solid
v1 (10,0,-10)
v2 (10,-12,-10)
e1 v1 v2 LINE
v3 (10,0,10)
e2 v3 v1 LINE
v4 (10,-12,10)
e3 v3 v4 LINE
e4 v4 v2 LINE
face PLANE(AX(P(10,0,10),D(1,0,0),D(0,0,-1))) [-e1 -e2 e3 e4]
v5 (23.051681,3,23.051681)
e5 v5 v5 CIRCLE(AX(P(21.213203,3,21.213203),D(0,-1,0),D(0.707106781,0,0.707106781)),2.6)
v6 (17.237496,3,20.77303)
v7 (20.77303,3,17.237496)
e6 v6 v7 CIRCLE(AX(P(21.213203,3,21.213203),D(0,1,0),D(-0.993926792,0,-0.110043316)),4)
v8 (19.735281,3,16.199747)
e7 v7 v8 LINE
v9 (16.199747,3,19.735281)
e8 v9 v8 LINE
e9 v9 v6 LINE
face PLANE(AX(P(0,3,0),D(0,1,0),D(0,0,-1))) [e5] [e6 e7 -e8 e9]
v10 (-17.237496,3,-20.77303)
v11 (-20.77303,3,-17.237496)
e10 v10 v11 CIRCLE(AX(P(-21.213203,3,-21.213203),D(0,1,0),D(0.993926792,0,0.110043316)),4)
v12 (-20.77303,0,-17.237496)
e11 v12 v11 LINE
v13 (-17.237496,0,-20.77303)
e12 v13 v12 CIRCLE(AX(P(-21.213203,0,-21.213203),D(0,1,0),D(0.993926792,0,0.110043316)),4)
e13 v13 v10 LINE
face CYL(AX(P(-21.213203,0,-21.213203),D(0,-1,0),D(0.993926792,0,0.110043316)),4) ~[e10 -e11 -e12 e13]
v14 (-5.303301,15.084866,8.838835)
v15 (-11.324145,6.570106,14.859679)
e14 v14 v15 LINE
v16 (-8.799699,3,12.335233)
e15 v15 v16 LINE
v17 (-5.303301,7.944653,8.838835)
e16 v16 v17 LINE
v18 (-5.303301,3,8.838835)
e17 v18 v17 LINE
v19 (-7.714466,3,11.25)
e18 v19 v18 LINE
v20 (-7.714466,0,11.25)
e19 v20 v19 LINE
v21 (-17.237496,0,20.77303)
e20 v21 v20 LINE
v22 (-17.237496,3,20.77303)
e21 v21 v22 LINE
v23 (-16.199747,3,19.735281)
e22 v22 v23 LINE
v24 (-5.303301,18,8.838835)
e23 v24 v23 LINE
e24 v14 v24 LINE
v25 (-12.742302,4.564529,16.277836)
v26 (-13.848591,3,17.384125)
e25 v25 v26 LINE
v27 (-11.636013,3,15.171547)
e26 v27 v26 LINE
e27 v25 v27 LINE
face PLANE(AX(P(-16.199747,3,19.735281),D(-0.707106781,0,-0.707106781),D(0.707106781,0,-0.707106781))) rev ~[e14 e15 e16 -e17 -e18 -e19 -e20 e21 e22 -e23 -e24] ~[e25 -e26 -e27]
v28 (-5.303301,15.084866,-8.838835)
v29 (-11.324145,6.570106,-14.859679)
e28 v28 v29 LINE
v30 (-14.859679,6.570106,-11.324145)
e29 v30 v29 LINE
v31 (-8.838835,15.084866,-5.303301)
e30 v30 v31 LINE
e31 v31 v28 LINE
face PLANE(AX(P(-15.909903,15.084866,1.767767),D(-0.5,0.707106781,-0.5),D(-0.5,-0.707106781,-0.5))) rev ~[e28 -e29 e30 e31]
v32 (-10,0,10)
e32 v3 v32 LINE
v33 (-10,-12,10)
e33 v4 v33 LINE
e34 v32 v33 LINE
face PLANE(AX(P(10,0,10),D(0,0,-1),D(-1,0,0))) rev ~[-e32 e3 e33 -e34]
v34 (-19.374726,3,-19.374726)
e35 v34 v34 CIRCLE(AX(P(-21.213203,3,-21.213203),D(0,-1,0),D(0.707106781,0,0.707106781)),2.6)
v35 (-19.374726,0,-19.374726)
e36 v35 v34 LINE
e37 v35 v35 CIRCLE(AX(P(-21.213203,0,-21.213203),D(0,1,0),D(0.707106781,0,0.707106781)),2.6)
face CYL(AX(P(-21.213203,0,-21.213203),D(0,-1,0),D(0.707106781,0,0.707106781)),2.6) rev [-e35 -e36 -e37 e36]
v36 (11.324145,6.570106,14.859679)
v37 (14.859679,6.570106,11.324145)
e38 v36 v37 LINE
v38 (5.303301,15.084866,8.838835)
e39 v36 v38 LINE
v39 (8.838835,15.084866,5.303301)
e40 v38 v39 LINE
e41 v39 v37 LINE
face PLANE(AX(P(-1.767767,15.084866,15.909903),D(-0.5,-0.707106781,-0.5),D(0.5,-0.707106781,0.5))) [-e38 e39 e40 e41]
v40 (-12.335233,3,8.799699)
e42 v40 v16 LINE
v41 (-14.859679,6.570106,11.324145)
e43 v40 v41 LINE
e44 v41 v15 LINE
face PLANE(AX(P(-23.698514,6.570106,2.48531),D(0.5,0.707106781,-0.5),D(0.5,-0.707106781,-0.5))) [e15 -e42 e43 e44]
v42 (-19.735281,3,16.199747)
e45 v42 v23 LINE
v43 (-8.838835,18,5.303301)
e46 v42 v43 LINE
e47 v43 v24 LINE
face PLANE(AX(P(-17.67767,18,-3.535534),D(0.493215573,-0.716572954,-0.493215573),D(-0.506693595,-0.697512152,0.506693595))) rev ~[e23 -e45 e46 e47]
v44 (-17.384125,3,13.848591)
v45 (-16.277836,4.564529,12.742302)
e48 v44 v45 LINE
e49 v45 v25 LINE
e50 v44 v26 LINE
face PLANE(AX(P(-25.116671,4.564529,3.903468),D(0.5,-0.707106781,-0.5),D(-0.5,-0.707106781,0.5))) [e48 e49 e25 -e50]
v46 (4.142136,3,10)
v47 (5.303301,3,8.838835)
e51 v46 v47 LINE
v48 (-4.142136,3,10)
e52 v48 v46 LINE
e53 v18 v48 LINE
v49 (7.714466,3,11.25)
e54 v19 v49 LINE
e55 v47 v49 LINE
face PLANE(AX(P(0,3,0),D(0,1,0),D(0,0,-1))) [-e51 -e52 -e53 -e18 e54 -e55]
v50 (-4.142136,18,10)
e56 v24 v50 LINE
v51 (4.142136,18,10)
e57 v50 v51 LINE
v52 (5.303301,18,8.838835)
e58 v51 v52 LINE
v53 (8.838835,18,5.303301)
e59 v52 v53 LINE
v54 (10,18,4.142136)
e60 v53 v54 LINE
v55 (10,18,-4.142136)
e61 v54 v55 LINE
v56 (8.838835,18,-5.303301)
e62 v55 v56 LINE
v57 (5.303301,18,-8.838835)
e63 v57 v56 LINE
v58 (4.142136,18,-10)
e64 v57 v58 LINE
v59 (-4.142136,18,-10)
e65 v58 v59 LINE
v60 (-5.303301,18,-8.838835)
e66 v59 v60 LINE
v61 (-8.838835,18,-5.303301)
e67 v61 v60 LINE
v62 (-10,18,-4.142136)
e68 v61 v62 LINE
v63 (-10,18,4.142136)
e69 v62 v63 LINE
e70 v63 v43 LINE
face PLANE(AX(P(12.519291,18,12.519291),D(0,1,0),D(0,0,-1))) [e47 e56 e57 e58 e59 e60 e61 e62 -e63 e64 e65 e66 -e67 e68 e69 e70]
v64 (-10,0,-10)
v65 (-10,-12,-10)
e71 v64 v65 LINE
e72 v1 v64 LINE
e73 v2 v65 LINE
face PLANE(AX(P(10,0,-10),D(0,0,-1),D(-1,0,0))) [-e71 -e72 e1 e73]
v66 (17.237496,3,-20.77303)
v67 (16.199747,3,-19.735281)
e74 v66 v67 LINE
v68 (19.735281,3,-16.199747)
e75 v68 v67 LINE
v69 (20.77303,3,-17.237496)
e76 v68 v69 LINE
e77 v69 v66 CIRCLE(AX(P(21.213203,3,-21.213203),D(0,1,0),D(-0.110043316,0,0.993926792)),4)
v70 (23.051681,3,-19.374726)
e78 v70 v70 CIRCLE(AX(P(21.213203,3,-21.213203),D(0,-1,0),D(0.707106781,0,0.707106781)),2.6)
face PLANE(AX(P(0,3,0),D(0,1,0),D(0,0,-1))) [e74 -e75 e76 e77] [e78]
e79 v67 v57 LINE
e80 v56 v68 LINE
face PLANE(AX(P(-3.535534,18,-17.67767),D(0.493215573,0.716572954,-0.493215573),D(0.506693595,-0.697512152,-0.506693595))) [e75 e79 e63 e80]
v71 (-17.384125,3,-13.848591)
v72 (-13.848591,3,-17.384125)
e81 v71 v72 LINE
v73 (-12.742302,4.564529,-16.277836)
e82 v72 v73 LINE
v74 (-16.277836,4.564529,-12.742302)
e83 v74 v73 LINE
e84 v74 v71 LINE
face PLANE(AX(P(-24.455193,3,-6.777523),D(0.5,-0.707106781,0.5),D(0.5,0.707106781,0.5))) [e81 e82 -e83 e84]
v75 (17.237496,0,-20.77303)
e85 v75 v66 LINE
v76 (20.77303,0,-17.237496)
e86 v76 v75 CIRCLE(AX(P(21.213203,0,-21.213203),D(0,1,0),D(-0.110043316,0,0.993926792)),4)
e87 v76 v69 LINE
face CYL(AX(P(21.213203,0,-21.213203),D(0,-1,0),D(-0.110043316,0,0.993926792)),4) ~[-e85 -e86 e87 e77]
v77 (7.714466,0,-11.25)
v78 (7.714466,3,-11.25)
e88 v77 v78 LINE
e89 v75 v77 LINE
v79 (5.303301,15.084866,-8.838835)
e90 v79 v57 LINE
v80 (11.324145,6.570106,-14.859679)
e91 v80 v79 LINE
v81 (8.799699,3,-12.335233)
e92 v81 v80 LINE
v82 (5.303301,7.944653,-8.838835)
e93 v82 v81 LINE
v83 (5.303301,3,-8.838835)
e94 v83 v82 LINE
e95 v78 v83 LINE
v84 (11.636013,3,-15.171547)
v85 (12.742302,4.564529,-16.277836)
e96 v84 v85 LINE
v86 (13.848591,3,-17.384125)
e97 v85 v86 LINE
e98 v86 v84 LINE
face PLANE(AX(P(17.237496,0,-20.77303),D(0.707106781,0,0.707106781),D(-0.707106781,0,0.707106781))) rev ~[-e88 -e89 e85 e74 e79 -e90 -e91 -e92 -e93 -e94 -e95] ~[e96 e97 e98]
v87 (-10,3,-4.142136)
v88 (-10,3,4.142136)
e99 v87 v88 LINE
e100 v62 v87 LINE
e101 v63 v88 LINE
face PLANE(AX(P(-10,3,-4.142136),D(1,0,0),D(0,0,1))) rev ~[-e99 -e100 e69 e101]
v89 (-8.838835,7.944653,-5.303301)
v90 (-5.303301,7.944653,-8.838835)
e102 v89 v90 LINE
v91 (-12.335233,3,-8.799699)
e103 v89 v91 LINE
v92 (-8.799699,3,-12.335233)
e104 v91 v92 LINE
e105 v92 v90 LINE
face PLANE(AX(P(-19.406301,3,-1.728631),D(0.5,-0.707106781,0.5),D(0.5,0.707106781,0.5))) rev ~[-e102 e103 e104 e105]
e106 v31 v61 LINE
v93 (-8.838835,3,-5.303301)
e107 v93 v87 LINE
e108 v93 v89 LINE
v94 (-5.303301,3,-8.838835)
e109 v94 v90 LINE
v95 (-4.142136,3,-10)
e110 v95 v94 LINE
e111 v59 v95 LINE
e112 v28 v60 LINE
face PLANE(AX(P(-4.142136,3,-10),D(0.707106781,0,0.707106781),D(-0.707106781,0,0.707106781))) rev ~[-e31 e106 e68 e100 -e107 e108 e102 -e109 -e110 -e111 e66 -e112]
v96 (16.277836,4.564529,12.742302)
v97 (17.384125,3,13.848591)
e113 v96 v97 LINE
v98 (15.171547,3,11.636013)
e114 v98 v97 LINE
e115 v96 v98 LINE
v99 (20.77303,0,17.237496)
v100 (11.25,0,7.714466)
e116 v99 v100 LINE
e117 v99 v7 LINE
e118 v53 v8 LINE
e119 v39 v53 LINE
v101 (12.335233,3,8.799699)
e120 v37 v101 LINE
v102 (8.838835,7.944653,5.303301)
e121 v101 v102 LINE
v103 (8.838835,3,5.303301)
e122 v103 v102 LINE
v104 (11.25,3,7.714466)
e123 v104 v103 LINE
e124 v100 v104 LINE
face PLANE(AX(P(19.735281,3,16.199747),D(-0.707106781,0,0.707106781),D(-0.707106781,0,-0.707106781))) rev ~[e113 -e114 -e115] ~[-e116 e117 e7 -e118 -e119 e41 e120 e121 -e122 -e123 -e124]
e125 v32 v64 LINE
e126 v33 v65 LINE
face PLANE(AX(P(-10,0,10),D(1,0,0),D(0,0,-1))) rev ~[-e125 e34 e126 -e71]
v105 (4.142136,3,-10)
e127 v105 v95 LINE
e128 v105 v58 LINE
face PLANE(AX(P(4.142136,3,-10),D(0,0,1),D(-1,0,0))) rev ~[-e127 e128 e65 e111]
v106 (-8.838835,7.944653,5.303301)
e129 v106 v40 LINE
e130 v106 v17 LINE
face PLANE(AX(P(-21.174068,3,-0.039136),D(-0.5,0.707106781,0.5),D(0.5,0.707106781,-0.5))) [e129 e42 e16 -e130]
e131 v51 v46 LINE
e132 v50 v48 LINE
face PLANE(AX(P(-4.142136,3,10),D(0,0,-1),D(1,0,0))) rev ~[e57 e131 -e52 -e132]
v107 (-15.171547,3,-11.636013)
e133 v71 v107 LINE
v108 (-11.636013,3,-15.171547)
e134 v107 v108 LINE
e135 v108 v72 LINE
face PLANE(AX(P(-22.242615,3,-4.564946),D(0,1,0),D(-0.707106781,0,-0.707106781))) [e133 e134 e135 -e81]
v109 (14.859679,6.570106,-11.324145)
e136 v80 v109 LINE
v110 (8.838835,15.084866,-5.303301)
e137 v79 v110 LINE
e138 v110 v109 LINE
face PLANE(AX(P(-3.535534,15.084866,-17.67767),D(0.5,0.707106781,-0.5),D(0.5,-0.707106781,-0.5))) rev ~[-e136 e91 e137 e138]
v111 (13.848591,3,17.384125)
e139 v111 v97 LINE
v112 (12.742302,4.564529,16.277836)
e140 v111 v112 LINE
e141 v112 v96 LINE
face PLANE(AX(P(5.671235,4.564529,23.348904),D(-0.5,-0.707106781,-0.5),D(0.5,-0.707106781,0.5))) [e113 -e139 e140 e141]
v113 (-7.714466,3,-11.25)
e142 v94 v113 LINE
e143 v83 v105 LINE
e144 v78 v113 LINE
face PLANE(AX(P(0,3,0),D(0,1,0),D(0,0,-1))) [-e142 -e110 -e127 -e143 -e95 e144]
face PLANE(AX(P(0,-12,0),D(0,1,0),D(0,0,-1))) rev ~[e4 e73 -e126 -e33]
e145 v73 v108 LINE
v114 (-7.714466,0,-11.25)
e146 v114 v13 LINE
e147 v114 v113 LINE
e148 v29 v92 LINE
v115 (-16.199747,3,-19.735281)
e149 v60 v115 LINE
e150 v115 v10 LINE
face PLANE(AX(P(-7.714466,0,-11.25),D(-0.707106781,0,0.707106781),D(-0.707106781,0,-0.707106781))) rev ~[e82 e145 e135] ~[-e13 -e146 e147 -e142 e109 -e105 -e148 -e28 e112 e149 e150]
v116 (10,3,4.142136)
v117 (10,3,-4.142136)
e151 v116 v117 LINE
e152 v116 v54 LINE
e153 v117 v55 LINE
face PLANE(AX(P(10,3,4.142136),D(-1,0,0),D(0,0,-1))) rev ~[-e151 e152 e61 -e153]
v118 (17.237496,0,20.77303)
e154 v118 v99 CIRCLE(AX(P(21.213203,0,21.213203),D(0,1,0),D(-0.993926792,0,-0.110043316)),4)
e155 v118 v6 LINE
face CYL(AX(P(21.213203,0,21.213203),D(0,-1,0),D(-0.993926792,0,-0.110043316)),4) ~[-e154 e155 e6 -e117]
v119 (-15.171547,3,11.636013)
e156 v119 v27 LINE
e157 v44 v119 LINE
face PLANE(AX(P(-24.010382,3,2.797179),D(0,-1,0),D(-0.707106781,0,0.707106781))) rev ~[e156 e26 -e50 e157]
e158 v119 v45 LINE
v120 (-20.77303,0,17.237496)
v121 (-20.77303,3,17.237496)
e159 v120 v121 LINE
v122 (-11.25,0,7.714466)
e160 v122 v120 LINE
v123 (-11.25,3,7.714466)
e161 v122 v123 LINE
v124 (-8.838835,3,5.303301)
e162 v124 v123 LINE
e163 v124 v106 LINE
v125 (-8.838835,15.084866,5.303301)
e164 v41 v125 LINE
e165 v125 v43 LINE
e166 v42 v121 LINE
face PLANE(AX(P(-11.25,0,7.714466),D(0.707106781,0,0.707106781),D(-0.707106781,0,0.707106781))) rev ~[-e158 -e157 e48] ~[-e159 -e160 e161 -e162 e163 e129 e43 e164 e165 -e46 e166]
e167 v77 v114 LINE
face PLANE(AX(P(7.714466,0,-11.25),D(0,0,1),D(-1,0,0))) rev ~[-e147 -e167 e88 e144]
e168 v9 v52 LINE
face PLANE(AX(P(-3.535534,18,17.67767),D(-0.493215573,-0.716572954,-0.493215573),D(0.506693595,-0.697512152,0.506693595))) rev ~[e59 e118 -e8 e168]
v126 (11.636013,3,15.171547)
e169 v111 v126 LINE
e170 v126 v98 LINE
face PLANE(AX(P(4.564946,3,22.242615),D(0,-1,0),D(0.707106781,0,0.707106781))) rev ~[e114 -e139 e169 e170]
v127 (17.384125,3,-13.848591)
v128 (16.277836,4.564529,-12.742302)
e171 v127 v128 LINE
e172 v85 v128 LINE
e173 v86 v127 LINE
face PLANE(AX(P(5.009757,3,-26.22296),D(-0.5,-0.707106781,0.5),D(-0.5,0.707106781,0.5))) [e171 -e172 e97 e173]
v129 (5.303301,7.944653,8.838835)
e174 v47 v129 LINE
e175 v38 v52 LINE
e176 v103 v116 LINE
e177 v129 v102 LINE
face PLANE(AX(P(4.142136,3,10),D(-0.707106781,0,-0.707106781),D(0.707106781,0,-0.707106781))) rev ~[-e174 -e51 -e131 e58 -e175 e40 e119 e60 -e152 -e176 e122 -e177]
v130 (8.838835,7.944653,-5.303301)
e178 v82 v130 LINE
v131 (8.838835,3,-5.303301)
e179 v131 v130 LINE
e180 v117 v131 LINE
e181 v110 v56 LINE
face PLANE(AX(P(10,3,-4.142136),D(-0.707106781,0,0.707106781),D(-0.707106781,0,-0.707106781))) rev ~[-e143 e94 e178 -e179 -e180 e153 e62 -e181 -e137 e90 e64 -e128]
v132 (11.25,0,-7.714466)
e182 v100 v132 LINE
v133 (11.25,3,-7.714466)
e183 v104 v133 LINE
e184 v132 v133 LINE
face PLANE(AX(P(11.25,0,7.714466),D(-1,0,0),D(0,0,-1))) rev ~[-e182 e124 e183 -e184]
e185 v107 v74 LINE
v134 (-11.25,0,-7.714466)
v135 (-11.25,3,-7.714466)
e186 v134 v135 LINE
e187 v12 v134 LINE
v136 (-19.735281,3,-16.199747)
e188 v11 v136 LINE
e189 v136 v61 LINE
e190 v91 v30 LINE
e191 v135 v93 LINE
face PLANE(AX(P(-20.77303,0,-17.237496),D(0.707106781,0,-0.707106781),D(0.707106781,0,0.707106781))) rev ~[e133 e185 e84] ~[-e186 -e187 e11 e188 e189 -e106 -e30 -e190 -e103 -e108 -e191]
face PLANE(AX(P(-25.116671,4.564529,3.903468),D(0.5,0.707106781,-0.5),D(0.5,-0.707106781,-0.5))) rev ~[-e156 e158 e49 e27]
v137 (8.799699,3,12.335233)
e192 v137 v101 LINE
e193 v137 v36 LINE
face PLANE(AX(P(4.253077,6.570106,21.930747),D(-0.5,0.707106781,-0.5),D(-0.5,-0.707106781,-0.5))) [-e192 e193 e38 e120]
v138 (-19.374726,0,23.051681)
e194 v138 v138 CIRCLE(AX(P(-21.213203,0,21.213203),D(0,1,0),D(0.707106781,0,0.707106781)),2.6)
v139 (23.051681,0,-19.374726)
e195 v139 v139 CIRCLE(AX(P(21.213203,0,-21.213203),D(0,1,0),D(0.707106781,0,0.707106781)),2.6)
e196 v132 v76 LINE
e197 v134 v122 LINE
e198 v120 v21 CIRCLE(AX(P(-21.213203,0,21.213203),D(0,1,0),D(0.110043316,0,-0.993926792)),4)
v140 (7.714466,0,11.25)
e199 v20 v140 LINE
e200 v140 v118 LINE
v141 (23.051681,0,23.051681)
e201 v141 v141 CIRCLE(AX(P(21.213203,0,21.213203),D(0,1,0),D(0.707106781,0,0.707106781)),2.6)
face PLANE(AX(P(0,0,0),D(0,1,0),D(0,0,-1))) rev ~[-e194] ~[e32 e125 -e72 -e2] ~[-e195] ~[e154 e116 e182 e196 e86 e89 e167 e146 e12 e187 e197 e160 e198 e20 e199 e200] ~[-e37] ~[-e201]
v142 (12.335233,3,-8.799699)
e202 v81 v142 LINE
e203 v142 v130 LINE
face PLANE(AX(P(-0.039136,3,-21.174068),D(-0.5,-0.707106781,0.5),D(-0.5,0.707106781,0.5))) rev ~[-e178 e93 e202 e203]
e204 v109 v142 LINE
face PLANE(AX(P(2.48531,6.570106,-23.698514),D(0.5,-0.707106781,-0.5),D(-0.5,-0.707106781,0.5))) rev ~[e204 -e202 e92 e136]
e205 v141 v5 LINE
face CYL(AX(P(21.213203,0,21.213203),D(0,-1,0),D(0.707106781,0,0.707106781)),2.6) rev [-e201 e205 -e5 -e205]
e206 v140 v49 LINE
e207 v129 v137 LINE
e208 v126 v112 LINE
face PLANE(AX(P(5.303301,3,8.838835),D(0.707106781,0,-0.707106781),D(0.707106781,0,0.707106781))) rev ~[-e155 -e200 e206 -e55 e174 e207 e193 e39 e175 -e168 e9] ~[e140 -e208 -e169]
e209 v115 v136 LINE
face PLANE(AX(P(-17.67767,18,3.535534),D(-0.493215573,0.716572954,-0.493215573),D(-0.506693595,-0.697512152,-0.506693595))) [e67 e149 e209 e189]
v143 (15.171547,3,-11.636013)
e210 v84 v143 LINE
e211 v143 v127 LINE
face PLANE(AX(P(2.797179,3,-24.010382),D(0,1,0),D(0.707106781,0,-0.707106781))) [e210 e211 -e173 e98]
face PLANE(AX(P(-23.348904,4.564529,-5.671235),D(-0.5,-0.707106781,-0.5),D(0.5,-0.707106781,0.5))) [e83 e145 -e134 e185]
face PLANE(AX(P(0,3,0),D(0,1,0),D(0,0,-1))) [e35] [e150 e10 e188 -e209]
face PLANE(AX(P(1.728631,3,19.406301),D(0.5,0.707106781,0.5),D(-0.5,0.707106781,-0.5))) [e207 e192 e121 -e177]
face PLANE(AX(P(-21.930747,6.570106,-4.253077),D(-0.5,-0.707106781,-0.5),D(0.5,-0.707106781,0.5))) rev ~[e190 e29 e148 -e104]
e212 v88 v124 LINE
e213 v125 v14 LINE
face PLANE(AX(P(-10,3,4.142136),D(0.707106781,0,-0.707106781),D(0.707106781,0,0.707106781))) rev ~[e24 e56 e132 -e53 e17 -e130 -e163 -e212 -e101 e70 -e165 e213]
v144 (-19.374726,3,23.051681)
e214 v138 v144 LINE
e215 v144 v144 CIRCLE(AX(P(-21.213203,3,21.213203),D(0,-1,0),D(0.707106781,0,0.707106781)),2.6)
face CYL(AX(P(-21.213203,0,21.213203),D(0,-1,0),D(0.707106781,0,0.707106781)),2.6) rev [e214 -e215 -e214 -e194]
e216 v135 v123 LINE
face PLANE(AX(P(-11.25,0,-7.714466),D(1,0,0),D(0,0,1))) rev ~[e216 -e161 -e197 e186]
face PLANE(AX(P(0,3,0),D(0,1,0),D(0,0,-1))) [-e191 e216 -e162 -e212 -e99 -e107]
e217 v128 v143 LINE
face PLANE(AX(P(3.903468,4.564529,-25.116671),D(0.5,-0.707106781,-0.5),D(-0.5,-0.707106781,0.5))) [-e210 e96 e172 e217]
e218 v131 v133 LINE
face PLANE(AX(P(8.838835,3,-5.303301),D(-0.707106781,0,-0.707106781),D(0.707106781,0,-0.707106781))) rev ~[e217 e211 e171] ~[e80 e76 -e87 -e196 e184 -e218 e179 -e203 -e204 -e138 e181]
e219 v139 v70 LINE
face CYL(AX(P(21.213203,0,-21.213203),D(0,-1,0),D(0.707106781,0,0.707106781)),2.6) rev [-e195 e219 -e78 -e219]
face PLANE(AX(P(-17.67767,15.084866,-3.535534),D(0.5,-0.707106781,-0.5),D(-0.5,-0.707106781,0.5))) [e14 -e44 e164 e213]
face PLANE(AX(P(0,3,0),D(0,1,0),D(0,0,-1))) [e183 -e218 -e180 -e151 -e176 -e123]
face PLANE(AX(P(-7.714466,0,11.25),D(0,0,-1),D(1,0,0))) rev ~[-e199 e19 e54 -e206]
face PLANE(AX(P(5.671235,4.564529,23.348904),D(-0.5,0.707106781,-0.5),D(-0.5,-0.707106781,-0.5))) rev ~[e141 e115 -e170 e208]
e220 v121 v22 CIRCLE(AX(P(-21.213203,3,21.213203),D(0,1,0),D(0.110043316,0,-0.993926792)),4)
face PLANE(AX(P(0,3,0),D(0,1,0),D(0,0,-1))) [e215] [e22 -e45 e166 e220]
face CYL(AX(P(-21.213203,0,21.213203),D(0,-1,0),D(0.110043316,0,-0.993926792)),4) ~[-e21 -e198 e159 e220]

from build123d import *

# Parameters (mm, degrees)
SKETCH1_W               = 20
SKETCH1_H               = 20
BOSS_EXTRUDE1_DEPTH     = 12
BOSS_EXTRUDE2_DEPTH     = 3
BOSS_EXTRUDE3_DEPTH     = 15
BOSS_EXTRUDE4_DEPTH     = 15
BODY_MOVE_COPY1_ANGLE   = 45
CUT_EXTRUDE2_DEPTH      = 15
CUT_EXTRUDE2_DEPTH_BACK = 15
CUT_EXTRUDE3_DEPTH      = 15
CUT_EXTRUDE3_DEPTH_BACK = 15
CUT_EXTRUDE4_DEPTH      = 15
CUT_EXTRUDE4_DEPTH_BACK = 15
CUT_EXTRUDE5_DEPTH      = 15
CUT_EXTRUDE5_DEPTH_BACK = 15
SKETCH10_R              = 2.6
CUT_EXTRUDE6_DEPTH      = 25
BODY_MOVE_COPY2_ANGLE   = 45


with BuildPart() as part:
    # Sketch1 → Boss-Extrude1 (new body)
    with BuildSketch(Plane(origin=(0, 0, 0), x_dir=(1, 0, 0), z_dir=(0, 1, 0))):
        Rectangle(SKETCH1_W, SKETCH1_H)
    extrude(amount=-BOSS_EXTRUDE1_DEPTH)

    # Sketch2 → Boss-Extrude2 (add)
    with BuildSketch(Plane(origin=(0, 0, 0), x_dir=(1, 0, 0), z_dir=(0, 1, 0))):
        with BuildLine():
            Line((7.714466094, -11.25), (17.237496266, -20.773030172))
            ThreePointArc((17.237496266, -20.773030172), (24.04163056, -24.04163056), (20.773030172, -17.237496266))
            Line((20.773030172, -17.237496266), (11.25, -7.714466094))
            Line((11.25, -7.714466094), (11.25, 7.714466094))
            Line((11.25, 7.714466094), (20.773030172, 17.237496266))
            ThreePointArc((20.773030172, 17.237496266), (24.04163056, 24.04163056), (17.237496266, 20.773030172))
            Line((17.237496266, 20.773030172), (7.714466094, 11.25))
            Line((7.714466094, 11.25), (-7.714466094, 11.25))
            Line((-7.714466094, 11.25), (-17.237496266, 20.773030172))
            ThreePointArc((-17.237496266, 20.773030172), (-24.04163056, 24.04163056), (-20.773030172, 17.237496266))
            Line((-20.773030172, 17.237496266), (-11.25, 7.714466094))
            Line((-11.25, 7.714466094), (-11.25, -7.714466094))
            Line((-11.25, -7.714466094), (-20.773030172, -17.237496266))
            ThreePointArc((-20.773030172, -17.237496266), (-24.04163056, -24.04163056), (-17.237496266, -20.773030172))
            Line((-17.237496266, -20.773030172), (-7.714466094, -11.25))
            Line((-7.714466094, -11.25), (7.714466094, -11.25))
        make_face()
    extrude(amount=BOSS_EXTRUDE2_DEPTH)

    # Sketch3 → Boss-Extrude3 (add)
    with BuildSketch(Plane(origin=(0, 3, 0), x_dir=(1, 0, 0), z_dir=(0, 1, 0))):
        Polygon((10, 4.142135624), (4.142135624, 10), (-4.142135624, 10), (-10, 4.142135624), (-10, -4.142135624), (-4.142135624, -10), (4.142135624, -10), (10, -4.142135624), align=None)
    extrude(amount=BOSS_EXTRUDE3_DEPTH)

    # Sketch4 → Boss-Extrude4 (add)
    with BuildSketch(Plane(origin=(0, 3, 0), x_dir=(1, 0, 0), z_dir=(0, 1, 0))):
        Polygon((-11.25, -7.714466094), (-19.735281374, -16.199747468), (-16.199747468, -19.735281374), (-7.714466094, -11.25), (-5.303300859, -8.838834765), (-8.838834765, -5.303300859), align=None)
        Polygon((-7.714466094, 11.25), (-16.199747468, 19.735281374), (-19.735281374, 16.199747468), (-11.25, 7.714466094), (-8.838834765, 5.303300859), (-5.303300859, 8.838834765), align=None)
        Polygon((11.25, 7.714466094), (19.735281374, 16.199747468), (16.199747468, 19.735281374), (7.714466094, 11.25), (5.303300859, 8.838834765), (8.838834765, 5.303300859), align=None)
        Polygon((7.714466094, -11.25), (16.199747468, -19.735281374), (19.735281374, -16.199747468), (11.25, -7.714466094), (8.838834765, -5.303300859), (5.303300859, -8.838834765), align=None)
    extrude(amount=BOSS_EXTRUDE4_DEPTH)


with BuildPart() as part_1:
    # Body-Move/Copy1: moved
    add(part.part.rotate(Axis((0, 0, 0), (0, 1, 0)), BODY_MOVE_COPY1_ANGLE))

    # Sketch5 → Cut-Extrude2 (cut, two sides: drawn at the far end of the back side and taken through both)
    with BuildSketch(Plane.XY.offset(-CUT_EXTRUDE2_DEPTH_BACK)):
        Polygon((-25.409902577, 18), (-10, 18), (-25.409902577, 3), align=None)
        Polygon((10, 18), (25.409902577, 3), (25.409902577, 18), align=None)
    extrude(amount=CUT_EXTRUDE2_DEPTH + CUT_EXTRUDE2_DEPTH_BACK, mode=Mode.SUBTRACT)

    # Sketch7 → Cut-Extrude3 (cut, two sides: drawn at the far end of the back side and taken through both)
    with BuildSketch(Plane(origin=(0, 0, 0), x_dir=(0, 0, -1), z_dir=(1, 0, 0)).offset(-CUT_EXTRUDE3_DEPTH_BACK)):
        Polygon((-25.409902577, 18), (-10, 18), (-25.409902577, 3), align=None)
        Polygon((10, 18), (25.409902577, 3), (25.409902577, 18), align=None)
    extrude(amount=CUT_EXTRUDE3_DEPTH + CUT_EXTRUDE3_DEPTH_BACK, mode=Mode.SUBTRACT)

    # Sketch8 → Cut-Extrude4 (cut, two sides: drawn at the far end of the back side and taken through both)
    with BuildSketch(Plane(origin=(2.5, 0, 0), x_dir=(0, 0, -1), z_dir=(1, 0, 0)).offset(-CUT_EXTRUDE4_DEPTH_BACK)):
        Polygon((-10, 7.94465349), (-10, 15.084865647), (-18.514759568, 6.570106079), (-14.94465349, 3), align=None)
        Polygon((-18.955808103, 3), (-22.084865647, 3), (-20.674172955, 4.410692692), (-20.520336875, 4.564528772), align=None)
        Polygon((14.94465349, 3), (10, 7.94465349), (10, 15.084865647), (18.514759568, 6.570106079), align=None)
        Polygon((20.674172955, 4.410692692), (20.520336875, 4.564528772), (18.955808103, 3), (22.084865647, 3), align=None)
    extrude(amount=CUT_EXTRUDE4_DEPTH + CUT_EXTRUDE4_DEPTH_BACK, mode=Mode.SUBTRACT)

    # Sketch9 → Cut-Extrude5 (cut, two sides: drawn at the far end of the back side and taken through both)
    with BuildSketch(Plane.XY.offset(-CUT_EXTRUDE5_DEPTH_BACK)):
        Polygon((-10, 7.94465349), (-10, 15.084865647), (-18.514759568, 6.570106079), (-14.94465349, 3), align=None)
        Polygon((-18.955808103, 3), (-22.084865647, 3), (-20.674172955, 4.410692692), (-20.520336875, 4.564528772), align=None)
        Polygon((14.94465349, 3), (10, 7.94465349), (10, 15.084865647), (18.514759568, 6.570106079), align=None)
        Polygon((20.674172955, 4.410692692), (20.520336875, 4.564528772), (18.955808103, 3), (22.084865647, 3), align=None)
    extrude(amount=CUT_EXTRUDE5_DEPTH + CUT_EXTRUDE5_DEPTH_BACK, mode=Mode.SUBTRACT)

    # Sketch10 → Cut-Extrude6 (cut)
    with BuildSketch(Plane(origin=(0, 0, 0), x_dir=(1, 0, 0), z_dir=(0, 1, 0))):
        with Locations(Location((0, -30, 0), (0, 0, 270))):
            Circle(SKETCH10_R)
        with Locations(Location((-30, 0, 0), (0, 0, 270))):
            Circle(SKETCH10_R)
        with Locations(Location((0, 30, 0), (0, 0, 270))):
            Circle(SKETCH10_R)
        with Locations(Location((30, 0, 0), (0, 0, 270))):
            Circle(SKETCH10_R)
    extrude(amount=CUT_EXTRUDE6_DEPTH, mode=Mode.SUBTRACT)


with BuildPart() as part_2:
    # Body-Move/Copy2: moved
    add(part_1.part.rotate(Axis((0, 0, 0), (0, 1, 0)), BODY_MOVE_COPY2_ANGLE))


solid = part_2.part
